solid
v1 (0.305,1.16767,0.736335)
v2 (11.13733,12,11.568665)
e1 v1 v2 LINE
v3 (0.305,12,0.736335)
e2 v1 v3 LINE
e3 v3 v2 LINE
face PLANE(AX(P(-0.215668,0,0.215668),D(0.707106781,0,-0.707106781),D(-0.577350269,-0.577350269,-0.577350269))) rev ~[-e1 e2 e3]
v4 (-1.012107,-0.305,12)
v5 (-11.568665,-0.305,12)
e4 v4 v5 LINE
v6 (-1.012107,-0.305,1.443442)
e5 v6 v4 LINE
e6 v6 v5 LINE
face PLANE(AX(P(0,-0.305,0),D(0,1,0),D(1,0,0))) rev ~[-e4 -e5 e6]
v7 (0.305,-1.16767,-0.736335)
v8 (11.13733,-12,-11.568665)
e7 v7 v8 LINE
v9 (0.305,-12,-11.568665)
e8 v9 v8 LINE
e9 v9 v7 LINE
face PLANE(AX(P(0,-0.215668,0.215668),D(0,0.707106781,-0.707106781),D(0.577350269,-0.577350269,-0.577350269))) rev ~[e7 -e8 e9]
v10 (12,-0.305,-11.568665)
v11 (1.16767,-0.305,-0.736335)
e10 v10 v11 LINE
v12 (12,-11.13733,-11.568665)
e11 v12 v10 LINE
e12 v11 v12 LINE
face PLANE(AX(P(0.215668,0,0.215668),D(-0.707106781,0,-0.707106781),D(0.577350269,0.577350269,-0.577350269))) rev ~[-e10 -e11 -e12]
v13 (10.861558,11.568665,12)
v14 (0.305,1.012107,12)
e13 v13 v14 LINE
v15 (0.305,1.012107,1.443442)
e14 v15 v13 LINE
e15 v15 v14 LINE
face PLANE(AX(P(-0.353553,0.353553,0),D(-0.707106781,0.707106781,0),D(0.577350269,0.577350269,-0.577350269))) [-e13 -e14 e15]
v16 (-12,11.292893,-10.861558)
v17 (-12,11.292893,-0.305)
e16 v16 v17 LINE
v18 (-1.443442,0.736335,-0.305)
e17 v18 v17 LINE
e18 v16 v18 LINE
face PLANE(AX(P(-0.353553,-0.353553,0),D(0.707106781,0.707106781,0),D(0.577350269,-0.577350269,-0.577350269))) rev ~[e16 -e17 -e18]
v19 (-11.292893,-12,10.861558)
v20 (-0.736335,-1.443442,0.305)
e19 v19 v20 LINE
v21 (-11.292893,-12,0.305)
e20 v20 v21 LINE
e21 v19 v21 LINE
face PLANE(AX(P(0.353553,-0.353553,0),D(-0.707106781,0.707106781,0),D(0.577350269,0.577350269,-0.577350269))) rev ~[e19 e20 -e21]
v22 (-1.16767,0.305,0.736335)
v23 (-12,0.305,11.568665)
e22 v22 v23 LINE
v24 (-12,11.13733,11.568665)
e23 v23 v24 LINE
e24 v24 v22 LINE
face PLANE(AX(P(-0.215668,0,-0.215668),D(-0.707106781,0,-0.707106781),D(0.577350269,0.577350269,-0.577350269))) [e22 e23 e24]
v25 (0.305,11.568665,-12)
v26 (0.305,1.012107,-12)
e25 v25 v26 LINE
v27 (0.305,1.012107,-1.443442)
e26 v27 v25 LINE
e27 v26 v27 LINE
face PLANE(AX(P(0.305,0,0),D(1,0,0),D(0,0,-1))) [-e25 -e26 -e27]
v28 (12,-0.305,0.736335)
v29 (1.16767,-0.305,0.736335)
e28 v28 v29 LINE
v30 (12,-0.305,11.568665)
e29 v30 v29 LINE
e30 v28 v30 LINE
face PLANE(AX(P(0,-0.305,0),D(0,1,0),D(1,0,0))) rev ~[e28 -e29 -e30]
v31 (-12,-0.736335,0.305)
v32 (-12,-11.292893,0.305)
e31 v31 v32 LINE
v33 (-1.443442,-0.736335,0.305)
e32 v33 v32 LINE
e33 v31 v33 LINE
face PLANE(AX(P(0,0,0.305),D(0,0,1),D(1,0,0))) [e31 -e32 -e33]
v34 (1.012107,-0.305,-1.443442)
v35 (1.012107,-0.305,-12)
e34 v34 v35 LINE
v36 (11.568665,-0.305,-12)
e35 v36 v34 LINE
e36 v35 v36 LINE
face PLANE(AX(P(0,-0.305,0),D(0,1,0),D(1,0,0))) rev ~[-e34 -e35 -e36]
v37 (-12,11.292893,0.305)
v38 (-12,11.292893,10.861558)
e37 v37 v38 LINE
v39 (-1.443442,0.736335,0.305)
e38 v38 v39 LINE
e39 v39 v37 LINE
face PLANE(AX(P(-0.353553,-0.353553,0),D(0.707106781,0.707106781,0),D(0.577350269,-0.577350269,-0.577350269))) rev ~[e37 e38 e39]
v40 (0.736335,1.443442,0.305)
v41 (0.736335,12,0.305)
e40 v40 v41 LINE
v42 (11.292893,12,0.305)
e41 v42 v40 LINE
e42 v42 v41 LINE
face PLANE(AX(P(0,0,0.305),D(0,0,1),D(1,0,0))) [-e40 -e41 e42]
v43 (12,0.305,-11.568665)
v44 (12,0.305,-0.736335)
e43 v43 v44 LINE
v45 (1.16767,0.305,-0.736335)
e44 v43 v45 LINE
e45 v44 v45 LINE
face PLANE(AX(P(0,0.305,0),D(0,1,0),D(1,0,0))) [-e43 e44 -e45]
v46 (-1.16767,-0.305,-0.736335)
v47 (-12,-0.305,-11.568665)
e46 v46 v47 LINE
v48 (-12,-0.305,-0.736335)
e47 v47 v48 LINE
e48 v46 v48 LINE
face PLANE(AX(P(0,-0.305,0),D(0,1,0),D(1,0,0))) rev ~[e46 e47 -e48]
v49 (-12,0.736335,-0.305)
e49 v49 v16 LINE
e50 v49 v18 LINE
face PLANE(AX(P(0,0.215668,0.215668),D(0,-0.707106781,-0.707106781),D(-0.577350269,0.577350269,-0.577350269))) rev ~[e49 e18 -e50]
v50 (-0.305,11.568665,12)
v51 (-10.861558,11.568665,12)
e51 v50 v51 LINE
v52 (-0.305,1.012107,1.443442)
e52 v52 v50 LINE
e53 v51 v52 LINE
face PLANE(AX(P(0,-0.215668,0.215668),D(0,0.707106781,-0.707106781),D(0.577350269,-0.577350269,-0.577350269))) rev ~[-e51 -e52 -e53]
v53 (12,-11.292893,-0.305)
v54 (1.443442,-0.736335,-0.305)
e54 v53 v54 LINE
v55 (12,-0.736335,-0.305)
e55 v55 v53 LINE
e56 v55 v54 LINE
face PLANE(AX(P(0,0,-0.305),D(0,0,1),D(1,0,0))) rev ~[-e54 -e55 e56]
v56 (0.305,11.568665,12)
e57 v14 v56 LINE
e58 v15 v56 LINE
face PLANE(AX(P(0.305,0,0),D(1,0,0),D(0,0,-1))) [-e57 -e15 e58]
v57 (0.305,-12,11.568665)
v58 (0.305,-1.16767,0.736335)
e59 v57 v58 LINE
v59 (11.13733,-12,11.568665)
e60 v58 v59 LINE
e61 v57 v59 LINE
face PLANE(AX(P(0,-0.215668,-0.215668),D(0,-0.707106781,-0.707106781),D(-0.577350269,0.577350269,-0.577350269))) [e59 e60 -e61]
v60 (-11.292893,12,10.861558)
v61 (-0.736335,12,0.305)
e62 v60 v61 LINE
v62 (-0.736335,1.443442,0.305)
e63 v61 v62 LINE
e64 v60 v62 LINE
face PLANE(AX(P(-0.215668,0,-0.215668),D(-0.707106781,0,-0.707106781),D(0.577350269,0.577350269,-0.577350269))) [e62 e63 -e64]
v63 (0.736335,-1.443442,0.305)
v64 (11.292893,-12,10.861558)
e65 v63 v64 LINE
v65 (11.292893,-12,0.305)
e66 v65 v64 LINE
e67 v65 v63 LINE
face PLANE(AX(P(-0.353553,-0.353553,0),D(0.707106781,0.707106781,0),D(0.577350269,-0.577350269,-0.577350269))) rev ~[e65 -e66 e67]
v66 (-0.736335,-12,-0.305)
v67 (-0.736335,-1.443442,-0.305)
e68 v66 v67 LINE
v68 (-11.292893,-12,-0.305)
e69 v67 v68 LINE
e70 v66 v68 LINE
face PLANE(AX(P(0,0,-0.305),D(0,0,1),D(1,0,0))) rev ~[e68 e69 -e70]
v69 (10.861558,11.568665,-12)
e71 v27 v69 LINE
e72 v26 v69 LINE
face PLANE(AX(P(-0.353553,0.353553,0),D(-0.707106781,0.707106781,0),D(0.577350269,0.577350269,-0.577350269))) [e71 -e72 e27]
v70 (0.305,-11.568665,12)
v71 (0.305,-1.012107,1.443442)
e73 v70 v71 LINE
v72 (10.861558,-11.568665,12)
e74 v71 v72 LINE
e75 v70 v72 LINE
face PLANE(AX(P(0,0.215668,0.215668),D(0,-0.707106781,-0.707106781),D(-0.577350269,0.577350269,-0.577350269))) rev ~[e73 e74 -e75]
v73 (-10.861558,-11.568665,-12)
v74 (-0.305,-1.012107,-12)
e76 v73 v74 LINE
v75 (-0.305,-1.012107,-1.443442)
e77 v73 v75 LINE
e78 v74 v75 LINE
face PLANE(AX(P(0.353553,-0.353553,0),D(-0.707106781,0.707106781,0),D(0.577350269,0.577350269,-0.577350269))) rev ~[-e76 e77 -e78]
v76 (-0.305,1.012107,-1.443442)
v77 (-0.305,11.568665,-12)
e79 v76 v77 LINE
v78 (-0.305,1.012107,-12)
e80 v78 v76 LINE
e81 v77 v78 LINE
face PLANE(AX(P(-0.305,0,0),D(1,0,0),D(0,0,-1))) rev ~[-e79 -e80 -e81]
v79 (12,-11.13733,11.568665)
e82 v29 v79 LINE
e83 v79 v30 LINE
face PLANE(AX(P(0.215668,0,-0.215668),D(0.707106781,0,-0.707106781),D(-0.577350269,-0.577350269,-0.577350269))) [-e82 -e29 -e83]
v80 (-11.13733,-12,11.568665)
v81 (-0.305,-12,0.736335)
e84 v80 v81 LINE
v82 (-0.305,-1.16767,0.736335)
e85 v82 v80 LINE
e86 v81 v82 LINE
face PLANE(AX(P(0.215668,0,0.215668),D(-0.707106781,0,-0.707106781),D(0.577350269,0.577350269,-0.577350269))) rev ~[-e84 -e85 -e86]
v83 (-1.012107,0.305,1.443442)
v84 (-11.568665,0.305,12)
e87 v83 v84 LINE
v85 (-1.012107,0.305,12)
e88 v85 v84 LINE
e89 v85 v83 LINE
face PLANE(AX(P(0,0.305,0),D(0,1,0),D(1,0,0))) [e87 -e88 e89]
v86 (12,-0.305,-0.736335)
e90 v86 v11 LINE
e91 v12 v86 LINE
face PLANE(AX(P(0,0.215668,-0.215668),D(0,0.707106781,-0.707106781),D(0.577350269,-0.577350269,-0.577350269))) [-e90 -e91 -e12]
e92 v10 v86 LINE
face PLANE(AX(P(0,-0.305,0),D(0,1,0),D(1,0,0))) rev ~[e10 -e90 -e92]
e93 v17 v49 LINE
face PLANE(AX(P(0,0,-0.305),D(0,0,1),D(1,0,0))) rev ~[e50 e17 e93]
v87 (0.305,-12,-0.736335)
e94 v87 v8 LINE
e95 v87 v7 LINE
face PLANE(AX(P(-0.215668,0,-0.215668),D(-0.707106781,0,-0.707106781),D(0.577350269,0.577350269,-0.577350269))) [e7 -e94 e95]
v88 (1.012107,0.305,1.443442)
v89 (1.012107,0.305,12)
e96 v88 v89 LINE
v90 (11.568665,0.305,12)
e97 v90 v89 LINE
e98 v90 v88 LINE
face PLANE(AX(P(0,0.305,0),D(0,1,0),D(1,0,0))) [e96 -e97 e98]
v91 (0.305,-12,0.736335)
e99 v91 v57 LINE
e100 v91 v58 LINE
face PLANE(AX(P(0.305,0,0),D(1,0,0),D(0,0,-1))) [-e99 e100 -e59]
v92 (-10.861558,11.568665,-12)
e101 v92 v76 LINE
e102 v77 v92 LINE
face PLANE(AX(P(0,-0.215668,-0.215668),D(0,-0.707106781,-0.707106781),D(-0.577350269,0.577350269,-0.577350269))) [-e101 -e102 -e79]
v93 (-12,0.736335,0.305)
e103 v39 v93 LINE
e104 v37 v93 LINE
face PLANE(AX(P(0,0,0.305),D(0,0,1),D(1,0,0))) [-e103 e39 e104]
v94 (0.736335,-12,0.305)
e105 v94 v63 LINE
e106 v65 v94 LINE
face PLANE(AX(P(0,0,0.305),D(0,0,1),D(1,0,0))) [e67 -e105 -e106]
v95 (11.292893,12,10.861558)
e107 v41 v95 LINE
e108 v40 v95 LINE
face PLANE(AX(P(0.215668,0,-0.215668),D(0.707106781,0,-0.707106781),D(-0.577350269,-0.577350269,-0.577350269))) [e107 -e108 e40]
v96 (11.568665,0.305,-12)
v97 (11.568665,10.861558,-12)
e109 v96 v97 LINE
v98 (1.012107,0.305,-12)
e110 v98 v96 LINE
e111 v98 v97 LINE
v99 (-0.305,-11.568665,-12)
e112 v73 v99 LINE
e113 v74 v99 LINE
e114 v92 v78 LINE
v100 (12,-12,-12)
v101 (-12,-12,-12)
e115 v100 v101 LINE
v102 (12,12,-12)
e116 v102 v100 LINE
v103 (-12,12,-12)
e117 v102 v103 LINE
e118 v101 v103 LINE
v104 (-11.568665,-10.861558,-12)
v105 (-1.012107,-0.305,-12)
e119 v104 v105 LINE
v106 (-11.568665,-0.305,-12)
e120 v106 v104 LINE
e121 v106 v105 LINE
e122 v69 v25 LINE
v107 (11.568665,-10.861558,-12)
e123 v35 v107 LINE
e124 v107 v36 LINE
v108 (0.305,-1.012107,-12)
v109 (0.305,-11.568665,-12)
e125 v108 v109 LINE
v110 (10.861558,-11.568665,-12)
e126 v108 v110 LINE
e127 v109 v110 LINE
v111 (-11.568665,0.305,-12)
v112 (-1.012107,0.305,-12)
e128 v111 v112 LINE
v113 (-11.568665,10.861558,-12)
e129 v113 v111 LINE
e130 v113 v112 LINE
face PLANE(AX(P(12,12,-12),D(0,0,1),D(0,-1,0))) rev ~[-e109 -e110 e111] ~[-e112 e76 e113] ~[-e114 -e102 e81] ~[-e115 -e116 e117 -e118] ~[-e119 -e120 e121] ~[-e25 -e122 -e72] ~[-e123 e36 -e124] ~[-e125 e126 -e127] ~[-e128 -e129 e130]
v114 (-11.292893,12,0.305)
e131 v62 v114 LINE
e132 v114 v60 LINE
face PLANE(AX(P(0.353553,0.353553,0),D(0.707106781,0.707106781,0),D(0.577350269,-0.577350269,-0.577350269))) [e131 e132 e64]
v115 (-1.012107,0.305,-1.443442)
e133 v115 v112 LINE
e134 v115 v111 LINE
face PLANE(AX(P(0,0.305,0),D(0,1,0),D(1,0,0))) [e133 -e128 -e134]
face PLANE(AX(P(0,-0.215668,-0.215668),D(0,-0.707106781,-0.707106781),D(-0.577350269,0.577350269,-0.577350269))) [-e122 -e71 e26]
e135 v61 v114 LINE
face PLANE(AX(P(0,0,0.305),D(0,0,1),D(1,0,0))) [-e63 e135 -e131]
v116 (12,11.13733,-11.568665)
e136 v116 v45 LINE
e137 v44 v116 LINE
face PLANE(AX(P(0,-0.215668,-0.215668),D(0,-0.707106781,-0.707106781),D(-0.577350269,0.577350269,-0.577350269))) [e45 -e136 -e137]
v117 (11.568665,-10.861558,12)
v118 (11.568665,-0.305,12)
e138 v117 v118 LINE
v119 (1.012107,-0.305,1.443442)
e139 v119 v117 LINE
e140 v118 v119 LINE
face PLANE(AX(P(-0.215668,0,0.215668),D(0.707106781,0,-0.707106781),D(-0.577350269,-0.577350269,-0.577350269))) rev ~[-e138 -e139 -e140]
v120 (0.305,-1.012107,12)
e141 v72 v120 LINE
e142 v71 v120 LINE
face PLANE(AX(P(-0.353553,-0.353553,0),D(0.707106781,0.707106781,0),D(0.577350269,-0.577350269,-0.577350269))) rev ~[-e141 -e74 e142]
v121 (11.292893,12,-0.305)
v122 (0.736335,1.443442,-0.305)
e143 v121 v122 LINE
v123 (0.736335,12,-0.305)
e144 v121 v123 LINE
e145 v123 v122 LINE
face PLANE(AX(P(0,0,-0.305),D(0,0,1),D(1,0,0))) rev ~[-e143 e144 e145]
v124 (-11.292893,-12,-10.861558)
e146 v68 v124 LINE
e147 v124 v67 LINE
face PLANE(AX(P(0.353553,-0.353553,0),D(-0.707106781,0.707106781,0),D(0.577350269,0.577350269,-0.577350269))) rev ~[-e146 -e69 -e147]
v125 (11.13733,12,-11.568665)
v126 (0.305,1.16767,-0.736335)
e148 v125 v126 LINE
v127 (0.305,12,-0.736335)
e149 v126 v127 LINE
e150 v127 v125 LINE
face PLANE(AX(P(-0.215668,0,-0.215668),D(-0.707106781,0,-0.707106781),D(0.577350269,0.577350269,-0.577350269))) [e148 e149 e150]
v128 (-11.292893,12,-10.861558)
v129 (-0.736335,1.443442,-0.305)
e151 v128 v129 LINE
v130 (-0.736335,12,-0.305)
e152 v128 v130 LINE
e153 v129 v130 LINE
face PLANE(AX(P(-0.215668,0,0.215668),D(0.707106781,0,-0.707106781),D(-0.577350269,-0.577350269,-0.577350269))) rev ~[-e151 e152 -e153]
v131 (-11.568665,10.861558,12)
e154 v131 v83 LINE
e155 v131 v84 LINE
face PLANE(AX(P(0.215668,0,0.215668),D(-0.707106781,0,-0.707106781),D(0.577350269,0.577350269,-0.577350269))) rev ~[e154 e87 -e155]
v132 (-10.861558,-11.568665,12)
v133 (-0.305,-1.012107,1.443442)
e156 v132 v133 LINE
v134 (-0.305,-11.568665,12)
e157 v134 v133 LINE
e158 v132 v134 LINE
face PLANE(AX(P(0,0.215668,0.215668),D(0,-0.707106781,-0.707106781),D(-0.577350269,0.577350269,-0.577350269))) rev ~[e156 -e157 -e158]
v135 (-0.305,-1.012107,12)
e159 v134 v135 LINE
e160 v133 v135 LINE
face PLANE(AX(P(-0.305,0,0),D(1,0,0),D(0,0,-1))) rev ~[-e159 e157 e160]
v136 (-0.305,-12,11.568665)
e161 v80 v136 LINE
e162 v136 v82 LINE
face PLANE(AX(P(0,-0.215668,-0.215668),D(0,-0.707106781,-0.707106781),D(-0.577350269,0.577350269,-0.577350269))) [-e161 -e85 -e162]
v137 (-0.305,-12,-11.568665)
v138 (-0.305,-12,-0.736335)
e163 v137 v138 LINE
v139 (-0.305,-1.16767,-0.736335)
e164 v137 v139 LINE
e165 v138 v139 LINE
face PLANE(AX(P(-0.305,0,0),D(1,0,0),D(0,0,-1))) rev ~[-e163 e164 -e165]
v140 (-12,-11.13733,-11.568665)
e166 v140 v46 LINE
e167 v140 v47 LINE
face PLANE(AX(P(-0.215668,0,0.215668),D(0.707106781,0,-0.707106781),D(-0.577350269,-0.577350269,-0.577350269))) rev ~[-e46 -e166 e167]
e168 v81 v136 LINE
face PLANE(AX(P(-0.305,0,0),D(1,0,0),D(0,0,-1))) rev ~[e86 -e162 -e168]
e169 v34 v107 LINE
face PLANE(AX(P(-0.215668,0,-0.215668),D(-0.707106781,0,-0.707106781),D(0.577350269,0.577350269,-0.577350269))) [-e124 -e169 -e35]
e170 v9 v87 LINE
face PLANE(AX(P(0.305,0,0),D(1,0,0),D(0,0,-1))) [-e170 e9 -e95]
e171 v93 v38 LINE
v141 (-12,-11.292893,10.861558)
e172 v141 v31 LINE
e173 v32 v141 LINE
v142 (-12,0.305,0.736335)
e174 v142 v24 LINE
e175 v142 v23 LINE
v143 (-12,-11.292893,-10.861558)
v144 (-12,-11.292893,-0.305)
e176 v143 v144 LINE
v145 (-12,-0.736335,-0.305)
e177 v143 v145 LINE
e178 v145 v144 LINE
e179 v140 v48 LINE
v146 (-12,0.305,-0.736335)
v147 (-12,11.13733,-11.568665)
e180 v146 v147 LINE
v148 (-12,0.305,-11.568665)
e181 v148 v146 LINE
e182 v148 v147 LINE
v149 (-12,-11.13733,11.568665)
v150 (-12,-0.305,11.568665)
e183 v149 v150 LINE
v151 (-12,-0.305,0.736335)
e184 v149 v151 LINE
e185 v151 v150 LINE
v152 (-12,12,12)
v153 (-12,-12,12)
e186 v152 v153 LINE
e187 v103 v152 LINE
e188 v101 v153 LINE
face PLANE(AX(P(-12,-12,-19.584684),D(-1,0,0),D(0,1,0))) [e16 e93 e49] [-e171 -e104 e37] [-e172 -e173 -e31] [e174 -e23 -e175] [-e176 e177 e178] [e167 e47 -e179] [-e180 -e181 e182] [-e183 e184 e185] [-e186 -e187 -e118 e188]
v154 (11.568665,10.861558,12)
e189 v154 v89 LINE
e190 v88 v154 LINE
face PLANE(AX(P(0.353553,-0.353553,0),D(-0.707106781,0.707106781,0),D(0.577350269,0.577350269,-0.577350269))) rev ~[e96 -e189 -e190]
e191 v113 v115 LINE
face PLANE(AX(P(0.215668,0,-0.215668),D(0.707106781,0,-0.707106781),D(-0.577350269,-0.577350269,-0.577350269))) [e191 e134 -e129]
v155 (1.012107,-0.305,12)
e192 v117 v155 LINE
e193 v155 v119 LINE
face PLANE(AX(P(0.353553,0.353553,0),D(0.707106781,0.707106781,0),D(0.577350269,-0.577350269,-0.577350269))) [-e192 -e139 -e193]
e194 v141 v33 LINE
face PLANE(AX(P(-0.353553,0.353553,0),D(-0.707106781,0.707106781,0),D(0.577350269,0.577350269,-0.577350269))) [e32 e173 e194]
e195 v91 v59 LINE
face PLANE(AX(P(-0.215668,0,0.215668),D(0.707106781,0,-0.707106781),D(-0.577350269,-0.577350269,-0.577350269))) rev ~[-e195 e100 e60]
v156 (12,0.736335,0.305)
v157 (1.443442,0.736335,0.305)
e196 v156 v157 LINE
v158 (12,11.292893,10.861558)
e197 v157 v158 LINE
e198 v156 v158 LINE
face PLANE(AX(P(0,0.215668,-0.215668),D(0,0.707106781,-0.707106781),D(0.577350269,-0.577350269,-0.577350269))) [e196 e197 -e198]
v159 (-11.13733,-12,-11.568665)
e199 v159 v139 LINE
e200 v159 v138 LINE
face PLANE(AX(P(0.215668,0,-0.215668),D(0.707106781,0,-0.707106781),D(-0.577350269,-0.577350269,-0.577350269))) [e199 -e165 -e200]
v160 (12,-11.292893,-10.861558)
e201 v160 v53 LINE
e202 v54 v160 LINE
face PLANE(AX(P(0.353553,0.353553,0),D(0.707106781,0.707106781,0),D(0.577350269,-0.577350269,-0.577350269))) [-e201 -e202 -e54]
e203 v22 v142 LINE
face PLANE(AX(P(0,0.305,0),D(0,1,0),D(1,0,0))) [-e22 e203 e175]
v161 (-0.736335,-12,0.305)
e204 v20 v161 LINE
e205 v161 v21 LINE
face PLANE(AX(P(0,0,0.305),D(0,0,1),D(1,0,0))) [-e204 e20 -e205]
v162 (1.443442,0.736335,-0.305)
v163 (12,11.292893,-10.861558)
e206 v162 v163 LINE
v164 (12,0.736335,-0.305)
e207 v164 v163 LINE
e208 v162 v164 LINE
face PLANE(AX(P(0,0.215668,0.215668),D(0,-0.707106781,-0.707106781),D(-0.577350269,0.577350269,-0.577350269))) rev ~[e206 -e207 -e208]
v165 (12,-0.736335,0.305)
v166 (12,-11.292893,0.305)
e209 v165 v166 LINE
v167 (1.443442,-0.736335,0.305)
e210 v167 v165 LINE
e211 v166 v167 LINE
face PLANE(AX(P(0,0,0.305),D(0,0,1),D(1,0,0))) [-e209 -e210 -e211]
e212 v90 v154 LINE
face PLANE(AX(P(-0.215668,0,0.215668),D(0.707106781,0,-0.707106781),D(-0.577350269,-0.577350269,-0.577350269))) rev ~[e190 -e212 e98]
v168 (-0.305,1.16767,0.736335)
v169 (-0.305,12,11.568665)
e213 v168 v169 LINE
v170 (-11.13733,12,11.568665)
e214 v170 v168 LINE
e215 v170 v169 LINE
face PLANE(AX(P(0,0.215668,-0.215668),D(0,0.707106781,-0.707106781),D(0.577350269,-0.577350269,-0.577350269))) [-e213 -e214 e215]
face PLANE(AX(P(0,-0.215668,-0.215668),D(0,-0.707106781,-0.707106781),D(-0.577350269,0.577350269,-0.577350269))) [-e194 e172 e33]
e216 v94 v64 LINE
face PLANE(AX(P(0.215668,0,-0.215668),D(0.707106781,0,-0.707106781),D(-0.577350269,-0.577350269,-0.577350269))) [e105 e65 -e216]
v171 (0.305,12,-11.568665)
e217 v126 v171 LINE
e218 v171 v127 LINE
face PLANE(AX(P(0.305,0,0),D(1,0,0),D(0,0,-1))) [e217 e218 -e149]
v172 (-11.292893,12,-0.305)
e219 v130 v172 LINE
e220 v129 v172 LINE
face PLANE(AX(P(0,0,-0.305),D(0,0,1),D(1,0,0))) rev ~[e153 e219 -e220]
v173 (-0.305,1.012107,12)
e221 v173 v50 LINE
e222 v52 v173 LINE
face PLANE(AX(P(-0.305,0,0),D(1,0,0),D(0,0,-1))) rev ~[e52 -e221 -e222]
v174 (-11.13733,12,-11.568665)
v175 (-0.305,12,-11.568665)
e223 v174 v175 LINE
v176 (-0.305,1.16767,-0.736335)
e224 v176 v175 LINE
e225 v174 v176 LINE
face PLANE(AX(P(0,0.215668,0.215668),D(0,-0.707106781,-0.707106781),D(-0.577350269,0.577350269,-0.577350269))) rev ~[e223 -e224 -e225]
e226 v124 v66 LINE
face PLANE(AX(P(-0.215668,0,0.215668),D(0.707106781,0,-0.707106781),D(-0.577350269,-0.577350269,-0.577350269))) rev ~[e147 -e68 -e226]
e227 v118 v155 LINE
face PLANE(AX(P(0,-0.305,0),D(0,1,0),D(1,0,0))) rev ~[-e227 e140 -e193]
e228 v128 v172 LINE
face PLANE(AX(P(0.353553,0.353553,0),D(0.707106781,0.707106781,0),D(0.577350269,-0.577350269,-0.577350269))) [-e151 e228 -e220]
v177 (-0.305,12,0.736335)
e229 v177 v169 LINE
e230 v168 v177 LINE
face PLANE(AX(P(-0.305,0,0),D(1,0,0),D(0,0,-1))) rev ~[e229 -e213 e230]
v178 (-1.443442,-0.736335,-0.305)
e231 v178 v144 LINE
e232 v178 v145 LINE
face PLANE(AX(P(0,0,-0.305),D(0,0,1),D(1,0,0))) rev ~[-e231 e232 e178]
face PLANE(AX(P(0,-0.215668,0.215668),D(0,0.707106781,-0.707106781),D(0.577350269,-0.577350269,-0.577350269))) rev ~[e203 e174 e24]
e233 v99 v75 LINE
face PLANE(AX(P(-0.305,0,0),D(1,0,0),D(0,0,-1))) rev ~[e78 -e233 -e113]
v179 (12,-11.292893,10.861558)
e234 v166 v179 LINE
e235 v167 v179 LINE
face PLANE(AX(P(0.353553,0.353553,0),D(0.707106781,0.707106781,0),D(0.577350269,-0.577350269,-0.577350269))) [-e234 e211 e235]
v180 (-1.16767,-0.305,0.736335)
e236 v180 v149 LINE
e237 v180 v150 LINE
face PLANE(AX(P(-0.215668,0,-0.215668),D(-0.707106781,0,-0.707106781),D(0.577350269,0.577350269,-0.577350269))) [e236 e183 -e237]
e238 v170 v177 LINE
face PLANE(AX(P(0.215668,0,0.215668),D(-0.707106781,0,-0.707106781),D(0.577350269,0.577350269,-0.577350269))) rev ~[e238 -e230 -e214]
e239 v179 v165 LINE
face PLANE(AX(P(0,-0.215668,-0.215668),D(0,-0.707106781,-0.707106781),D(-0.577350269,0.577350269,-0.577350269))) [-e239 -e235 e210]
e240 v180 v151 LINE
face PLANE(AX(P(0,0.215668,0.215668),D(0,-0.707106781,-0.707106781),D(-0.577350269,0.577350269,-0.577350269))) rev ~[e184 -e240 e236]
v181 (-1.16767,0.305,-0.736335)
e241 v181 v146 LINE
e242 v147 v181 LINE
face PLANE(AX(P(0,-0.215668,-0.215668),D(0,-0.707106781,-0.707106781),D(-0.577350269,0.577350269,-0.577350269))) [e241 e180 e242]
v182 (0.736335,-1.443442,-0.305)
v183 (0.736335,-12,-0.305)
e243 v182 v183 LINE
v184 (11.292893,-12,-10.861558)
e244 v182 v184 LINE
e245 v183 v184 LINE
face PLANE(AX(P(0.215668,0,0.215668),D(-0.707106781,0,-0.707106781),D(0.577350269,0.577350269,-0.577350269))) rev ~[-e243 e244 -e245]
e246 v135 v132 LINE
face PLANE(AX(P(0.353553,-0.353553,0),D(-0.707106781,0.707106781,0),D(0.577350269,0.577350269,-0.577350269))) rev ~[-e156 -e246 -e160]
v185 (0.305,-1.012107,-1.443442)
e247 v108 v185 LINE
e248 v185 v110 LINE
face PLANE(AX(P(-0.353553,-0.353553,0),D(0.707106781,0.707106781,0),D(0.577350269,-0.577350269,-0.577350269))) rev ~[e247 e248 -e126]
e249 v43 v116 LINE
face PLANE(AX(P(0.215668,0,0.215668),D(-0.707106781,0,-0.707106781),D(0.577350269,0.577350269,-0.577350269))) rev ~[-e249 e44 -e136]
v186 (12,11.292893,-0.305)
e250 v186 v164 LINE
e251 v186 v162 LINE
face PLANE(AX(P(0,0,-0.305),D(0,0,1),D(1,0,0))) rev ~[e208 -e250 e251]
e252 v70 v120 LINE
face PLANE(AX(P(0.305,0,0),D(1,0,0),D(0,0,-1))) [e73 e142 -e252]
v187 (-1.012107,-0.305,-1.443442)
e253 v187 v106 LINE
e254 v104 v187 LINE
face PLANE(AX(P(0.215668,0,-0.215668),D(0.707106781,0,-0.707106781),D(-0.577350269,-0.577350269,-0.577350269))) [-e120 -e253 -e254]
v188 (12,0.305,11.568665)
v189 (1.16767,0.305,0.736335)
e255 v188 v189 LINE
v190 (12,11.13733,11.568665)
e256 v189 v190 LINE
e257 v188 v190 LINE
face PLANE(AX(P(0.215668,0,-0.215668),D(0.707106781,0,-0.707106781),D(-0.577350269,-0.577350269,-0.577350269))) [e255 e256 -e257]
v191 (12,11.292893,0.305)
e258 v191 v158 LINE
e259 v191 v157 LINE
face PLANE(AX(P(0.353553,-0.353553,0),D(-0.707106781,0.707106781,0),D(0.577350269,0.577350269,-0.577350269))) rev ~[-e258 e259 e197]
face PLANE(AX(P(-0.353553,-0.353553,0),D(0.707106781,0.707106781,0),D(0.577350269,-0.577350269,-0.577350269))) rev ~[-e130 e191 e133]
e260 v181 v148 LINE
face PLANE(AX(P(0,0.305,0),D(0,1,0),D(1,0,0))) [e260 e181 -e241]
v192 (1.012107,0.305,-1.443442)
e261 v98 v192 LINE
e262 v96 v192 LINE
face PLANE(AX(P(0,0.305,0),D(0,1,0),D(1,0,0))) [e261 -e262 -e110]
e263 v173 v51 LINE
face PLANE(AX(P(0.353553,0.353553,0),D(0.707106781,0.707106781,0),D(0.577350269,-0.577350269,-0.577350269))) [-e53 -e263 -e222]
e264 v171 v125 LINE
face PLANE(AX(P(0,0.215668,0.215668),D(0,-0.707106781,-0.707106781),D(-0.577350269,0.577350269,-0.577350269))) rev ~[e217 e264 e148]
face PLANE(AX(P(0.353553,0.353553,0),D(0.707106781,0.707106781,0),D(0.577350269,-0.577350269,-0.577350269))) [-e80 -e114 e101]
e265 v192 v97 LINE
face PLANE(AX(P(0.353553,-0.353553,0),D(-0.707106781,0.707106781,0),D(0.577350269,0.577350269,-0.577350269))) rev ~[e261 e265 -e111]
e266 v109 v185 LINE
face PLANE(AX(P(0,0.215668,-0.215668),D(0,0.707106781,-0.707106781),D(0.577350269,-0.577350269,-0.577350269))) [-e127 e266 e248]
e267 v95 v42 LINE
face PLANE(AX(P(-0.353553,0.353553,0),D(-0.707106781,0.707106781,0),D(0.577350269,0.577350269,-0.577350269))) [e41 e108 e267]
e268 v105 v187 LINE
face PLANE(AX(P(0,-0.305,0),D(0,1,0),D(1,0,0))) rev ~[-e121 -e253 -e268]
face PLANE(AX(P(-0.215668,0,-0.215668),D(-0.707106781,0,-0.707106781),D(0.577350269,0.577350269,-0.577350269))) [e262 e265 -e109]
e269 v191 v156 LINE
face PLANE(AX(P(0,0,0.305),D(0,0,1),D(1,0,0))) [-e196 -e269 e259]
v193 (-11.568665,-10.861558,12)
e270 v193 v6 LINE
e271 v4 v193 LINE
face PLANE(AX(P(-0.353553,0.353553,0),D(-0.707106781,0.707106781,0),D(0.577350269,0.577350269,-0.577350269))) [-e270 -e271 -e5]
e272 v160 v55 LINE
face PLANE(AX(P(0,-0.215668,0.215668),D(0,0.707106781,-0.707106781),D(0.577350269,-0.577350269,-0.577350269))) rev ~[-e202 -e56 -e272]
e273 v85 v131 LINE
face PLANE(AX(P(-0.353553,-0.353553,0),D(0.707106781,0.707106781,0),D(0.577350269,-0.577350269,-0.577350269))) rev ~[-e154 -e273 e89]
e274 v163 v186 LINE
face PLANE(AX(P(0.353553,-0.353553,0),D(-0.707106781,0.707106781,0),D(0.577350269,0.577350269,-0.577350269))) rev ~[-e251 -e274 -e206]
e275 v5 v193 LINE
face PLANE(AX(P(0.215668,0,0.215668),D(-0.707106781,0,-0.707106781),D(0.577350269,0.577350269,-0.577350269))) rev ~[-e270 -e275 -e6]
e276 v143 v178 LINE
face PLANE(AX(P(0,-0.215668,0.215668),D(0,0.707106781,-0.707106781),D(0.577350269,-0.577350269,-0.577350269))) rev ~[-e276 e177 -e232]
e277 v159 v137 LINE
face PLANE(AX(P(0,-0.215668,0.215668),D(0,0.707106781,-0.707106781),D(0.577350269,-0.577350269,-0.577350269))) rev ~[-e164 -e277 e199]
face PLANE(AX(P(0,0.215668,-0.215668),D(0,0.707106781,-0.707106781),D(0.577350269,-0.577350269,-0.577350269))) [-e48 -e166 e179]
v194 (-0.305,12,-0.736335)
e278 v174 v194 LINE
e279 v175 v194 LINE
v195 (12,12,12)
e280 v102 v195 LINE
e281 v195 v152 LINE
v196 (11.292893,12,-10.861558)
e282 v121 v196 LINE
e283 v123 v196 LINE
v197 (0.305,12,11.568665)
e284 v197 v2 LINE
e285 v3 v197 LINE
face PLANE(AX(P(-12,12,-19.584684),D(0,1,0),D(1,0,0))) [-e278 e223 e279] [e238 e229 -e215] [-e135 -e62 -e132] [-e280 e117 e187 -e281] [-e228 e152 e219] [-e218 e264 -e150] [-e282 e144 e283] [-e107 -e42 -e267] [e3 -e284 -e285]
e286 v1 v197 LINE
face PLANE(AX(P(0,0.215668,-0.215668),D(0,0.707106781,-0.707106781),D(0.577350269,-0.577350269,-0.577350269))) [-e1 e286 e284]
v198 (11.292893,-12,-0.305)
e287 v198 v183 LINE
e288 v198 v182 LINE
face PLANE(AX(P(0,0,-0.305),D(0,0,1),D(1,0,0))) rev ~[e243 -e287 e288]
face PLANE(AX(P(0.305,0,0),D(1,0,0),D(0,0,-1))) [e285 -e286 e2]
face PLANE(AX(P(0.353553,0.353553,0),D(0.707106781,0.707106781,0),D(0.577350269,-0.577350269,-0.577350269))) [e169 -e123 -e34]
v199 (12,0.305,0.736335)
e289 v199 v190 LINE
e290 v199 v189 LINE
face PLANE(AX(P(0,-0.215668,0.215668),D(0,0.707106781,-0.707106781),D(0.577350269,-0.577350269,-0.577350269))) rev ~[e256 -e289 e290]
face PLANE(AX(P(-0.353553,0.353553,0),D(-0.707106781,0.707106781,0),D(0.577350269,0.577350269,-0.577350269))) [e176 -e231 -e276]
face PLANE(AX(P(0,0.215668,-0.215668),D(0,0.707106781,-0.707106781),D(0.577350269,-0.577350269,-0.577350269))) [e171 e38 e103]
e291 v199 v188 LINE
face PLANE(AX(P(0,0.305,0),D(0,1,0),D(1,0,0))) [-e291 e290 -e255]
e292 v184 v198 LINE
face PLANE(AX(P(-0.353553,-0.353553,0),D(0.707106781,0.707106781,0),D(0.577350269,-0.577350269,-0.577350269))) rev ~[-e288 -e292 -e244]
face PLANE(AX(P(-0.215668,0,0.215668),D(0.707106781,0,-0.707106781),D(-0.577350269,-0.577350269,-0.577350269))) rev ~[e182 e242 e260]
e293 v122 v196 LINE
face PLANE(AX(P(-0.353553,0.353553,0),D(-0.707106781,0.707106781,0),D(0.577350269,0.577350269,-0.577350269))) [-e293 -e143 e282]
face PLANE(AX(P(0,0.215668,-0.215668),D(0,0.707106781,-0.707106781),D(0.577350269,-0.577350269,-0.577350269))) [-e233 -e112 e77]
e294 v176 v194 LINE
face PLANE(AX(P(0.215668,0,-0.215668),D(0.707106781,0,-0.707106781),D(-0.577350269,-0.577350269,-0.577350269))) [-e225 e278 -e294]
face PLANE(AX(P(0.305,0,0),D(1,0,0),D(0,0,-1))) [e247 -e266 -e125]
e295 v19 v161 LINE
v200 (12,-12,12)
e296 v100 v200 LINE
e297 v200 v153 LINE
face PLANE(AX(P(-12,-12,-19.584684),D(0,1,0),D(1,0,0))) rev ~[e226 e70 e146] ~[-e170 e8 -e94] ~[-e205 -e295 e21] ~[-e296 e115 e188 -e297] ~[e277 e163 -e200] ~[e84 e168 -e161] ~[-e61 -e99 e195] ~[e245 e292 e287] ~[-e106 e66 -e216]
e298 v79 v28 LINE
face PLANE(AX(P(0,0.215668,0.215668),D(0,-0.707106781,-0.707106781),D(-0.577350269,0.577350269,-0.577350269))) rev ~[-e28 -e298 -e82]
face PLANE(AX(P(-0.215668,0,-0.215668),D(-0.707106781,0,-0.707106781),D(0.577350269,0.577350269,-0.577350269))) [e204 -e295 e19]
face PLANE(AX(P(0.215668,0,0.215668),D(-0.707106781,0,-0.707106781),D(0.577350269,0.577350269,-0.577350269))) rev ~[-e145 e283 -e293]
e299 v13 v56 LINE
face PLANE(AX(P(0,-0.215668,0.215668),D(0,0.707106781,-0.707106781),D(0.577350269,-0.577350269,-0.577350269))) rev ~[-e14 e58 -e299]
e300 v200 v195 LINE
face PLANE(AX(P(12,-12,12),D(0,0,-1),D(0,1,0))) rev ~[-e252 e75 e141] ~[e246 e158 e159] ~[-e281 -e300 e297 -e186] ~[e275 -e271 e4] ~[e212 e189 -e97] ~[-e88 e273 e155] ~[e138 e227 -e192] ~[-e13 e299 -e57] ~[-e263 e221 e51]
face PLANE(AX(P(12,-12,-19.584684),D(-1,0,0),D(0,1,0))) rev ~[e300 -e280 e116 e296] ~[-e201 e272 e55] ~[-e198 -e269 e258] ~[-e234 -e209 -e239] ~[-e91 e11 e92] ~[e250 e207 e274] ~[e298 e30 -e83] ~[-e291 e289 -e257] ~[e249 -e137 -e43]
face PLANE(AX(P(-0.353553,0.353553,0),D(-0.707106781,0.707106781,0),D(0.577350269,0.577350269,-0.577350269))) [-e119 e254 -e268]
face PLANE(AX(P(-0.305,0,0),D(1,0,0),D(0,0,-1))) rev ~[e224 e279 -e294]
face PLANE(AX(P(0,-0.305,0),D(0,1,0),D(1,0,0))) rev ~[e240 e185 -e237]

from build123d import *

# Parameters (mm, degrees)
SKETCH2_W               = 25
SKETCH2_H               = 25
BOSS_EXTRUDE1_DEPTH     = 0.305
SKETCH3_W               = 25
SKETCH3_H               = 25
BOSS_EXTRUDE2_DEPTH     = 0.305
SKETCH4_W               = 25
SKETCH4_H               = 25
BOSS_EXTRUDE3_DEPTH     = 0.305
BOSS_EXTRUDE4_DEPTH     = 0.305
CIRPATTERN1_COUNT       = 4
BOSS_EXTRUDE5_DEPTH     = 0.5
CIRPATTERN3_COUNT       = 4
CUT_EXTRUDE1_DEPTH      = 32.084683695
CUT_EXTRUDE1_DEPTH_BACK = 32.084683695
SKETCH10_W              = 32.20248022
SKETCH10_H              = 30.281091186
SKETCH10_W_2            = 24
SKETCH10_H_2            = 24
SKETCH11_W              = 28.880121396
SKETCH11_H              = 26.658573596
SKETCH11_W_2            = 24
SKETCH11_H_2            = 24
CUT_EXTRUDE2_DEPTH      = 37


with BuildPart() as part:
    # Sketch2 → Boss-Extrude1 (new, symmetric)
    with BuildSketch(Plane.XY):
        Rectangle(SKETCH2_W, SKETCH2_H)
    extrude(amount=BOSS_EXTRUDE1_DEPTH, both=True)

    # Sketch3 → Boss-Extrude2 (add, symmetric)
    with BuildSketch(Plane(origin=(0, 0, 0), x_dir=(1, 0, 0), z_dir=(0, 1, 0))):
        Rectangle(SKETCH3_W, SKETCH3_H)
    extrude(amount=BOSS_EXTRUDE2_DEPTH, both=True)

    # Sketch4 → Boss-Extrude3 (add, symmetric)
    with BuildSketch(Plane(origin=(0, 0, 0), x_dir=(0, 0, -1), z_dir=(1, 0, 0))):
        Rectangle(SKETCH4_W, SKETCH4_H)
    extrude(amount=BOSS_EXTRUDE3_DEPTH, both=True)

    # 3DSketch1 → Boss-Extrude4 (add, symmetric)
    with BuildSketch(Plane(origin=(12.5, 12.5, -12.5), x_dir=(-0.5773502691896257, -0.5773502691896257, 0.5773502691896257), z_dir=(0.7071067811865476, 0, 0.7071067811865475))):
        Polygon((0, 0), (14.43375673, 20.412414523), (43.301270189, 0), (28.867513459, -20.412414523), align=None)
    boss_extrude4 = extrude(amount=BOSS_EXTRUDE4_DEPTH, both=True)

    # CirPattern1: Boss-Extrude4 ×4 about axis
    cirpattern1_axis = Axis((0, 0, -14.139022115), (0, 0, 1))
    for i in range(1, CIRPATTERN1_COUNT):
        add(boss_extrude4.rotate(cirpattern1_axis, i * 360 / CIRPATTERN1_COUNT))


with BuildPart() as body_2:
    # 3DSketch2 → Boss-Extrude5 (new, symmetric)
    with BuildSketch(Plane(origin=(12.5, -12.5, -12.5), x_dir=(-0.5773502691896257, 0.5773502691896257, 0.5773502691896257), z_dir=(-0.7071067811865476, -0.7071067811865476, 0))):
        Polygon((0, 0), (28.867513459, 20.412414523), (43.301270189, 0), (14.43375673, -20.412414523), align=None)
    boss_extrude5 = extrude(amount=BOSS_EXTRUDE5_DEPTH, both=True)

    # CirPattern3: Boss-Extrude5 ×4 about axis
    cirpattern3_axis = Axis((0, 0, -14.139022115), (0, 0, 1))
    for i in range(1, CIRPATTERN3_COUNT):
        add(boss_extrude5.rotate(cirpattern3_axis, i * 360 / CIRPATTERN3_COUNT))


with BuildPart() as part_1:
    add(part.part)

    # Combine1: union body 2
    add(body_2.part)

    # Sketch10 → Cut-Extrude1 (cut, two sides: drawn at the far end of the back side and taken through both)
    with BuildSketch(Plane.XY.offset(12.5).offset(-CUT_EXTRUDE1_DEPTH_BACK)):
        Rectangle(SKETCH10_W, SKETCH10_H)
        Rectangle(SKETCH10_W_2, SKETCH10_H_2, mode=Mode.SUBTRACT)
    extrude(amount=CUT_EXTRUDE1_DEPTH + CUT_EXTRUDE1_DEPTH_BACK, mode=Mode.SUBTRACT)

    # Sketch11 → Cut-Extrude2 (cut)
    with BuildSketch(Plane(origin=(12, 0, 0), x_dir=(0, 0, -1), z_dir=(1, 0, 0))):
        Rectangle(SKETCH11_W, SKETCH11_H)
        Rectangle(SKETCH11_W_2, SKETCH11_H_2, mode=Mode.SUBTRACT)
    extrude(amount=-CUT_EXTRUDE2_DEPTH, mode=Mode.SUBTRACT)


solid = part_1.part
